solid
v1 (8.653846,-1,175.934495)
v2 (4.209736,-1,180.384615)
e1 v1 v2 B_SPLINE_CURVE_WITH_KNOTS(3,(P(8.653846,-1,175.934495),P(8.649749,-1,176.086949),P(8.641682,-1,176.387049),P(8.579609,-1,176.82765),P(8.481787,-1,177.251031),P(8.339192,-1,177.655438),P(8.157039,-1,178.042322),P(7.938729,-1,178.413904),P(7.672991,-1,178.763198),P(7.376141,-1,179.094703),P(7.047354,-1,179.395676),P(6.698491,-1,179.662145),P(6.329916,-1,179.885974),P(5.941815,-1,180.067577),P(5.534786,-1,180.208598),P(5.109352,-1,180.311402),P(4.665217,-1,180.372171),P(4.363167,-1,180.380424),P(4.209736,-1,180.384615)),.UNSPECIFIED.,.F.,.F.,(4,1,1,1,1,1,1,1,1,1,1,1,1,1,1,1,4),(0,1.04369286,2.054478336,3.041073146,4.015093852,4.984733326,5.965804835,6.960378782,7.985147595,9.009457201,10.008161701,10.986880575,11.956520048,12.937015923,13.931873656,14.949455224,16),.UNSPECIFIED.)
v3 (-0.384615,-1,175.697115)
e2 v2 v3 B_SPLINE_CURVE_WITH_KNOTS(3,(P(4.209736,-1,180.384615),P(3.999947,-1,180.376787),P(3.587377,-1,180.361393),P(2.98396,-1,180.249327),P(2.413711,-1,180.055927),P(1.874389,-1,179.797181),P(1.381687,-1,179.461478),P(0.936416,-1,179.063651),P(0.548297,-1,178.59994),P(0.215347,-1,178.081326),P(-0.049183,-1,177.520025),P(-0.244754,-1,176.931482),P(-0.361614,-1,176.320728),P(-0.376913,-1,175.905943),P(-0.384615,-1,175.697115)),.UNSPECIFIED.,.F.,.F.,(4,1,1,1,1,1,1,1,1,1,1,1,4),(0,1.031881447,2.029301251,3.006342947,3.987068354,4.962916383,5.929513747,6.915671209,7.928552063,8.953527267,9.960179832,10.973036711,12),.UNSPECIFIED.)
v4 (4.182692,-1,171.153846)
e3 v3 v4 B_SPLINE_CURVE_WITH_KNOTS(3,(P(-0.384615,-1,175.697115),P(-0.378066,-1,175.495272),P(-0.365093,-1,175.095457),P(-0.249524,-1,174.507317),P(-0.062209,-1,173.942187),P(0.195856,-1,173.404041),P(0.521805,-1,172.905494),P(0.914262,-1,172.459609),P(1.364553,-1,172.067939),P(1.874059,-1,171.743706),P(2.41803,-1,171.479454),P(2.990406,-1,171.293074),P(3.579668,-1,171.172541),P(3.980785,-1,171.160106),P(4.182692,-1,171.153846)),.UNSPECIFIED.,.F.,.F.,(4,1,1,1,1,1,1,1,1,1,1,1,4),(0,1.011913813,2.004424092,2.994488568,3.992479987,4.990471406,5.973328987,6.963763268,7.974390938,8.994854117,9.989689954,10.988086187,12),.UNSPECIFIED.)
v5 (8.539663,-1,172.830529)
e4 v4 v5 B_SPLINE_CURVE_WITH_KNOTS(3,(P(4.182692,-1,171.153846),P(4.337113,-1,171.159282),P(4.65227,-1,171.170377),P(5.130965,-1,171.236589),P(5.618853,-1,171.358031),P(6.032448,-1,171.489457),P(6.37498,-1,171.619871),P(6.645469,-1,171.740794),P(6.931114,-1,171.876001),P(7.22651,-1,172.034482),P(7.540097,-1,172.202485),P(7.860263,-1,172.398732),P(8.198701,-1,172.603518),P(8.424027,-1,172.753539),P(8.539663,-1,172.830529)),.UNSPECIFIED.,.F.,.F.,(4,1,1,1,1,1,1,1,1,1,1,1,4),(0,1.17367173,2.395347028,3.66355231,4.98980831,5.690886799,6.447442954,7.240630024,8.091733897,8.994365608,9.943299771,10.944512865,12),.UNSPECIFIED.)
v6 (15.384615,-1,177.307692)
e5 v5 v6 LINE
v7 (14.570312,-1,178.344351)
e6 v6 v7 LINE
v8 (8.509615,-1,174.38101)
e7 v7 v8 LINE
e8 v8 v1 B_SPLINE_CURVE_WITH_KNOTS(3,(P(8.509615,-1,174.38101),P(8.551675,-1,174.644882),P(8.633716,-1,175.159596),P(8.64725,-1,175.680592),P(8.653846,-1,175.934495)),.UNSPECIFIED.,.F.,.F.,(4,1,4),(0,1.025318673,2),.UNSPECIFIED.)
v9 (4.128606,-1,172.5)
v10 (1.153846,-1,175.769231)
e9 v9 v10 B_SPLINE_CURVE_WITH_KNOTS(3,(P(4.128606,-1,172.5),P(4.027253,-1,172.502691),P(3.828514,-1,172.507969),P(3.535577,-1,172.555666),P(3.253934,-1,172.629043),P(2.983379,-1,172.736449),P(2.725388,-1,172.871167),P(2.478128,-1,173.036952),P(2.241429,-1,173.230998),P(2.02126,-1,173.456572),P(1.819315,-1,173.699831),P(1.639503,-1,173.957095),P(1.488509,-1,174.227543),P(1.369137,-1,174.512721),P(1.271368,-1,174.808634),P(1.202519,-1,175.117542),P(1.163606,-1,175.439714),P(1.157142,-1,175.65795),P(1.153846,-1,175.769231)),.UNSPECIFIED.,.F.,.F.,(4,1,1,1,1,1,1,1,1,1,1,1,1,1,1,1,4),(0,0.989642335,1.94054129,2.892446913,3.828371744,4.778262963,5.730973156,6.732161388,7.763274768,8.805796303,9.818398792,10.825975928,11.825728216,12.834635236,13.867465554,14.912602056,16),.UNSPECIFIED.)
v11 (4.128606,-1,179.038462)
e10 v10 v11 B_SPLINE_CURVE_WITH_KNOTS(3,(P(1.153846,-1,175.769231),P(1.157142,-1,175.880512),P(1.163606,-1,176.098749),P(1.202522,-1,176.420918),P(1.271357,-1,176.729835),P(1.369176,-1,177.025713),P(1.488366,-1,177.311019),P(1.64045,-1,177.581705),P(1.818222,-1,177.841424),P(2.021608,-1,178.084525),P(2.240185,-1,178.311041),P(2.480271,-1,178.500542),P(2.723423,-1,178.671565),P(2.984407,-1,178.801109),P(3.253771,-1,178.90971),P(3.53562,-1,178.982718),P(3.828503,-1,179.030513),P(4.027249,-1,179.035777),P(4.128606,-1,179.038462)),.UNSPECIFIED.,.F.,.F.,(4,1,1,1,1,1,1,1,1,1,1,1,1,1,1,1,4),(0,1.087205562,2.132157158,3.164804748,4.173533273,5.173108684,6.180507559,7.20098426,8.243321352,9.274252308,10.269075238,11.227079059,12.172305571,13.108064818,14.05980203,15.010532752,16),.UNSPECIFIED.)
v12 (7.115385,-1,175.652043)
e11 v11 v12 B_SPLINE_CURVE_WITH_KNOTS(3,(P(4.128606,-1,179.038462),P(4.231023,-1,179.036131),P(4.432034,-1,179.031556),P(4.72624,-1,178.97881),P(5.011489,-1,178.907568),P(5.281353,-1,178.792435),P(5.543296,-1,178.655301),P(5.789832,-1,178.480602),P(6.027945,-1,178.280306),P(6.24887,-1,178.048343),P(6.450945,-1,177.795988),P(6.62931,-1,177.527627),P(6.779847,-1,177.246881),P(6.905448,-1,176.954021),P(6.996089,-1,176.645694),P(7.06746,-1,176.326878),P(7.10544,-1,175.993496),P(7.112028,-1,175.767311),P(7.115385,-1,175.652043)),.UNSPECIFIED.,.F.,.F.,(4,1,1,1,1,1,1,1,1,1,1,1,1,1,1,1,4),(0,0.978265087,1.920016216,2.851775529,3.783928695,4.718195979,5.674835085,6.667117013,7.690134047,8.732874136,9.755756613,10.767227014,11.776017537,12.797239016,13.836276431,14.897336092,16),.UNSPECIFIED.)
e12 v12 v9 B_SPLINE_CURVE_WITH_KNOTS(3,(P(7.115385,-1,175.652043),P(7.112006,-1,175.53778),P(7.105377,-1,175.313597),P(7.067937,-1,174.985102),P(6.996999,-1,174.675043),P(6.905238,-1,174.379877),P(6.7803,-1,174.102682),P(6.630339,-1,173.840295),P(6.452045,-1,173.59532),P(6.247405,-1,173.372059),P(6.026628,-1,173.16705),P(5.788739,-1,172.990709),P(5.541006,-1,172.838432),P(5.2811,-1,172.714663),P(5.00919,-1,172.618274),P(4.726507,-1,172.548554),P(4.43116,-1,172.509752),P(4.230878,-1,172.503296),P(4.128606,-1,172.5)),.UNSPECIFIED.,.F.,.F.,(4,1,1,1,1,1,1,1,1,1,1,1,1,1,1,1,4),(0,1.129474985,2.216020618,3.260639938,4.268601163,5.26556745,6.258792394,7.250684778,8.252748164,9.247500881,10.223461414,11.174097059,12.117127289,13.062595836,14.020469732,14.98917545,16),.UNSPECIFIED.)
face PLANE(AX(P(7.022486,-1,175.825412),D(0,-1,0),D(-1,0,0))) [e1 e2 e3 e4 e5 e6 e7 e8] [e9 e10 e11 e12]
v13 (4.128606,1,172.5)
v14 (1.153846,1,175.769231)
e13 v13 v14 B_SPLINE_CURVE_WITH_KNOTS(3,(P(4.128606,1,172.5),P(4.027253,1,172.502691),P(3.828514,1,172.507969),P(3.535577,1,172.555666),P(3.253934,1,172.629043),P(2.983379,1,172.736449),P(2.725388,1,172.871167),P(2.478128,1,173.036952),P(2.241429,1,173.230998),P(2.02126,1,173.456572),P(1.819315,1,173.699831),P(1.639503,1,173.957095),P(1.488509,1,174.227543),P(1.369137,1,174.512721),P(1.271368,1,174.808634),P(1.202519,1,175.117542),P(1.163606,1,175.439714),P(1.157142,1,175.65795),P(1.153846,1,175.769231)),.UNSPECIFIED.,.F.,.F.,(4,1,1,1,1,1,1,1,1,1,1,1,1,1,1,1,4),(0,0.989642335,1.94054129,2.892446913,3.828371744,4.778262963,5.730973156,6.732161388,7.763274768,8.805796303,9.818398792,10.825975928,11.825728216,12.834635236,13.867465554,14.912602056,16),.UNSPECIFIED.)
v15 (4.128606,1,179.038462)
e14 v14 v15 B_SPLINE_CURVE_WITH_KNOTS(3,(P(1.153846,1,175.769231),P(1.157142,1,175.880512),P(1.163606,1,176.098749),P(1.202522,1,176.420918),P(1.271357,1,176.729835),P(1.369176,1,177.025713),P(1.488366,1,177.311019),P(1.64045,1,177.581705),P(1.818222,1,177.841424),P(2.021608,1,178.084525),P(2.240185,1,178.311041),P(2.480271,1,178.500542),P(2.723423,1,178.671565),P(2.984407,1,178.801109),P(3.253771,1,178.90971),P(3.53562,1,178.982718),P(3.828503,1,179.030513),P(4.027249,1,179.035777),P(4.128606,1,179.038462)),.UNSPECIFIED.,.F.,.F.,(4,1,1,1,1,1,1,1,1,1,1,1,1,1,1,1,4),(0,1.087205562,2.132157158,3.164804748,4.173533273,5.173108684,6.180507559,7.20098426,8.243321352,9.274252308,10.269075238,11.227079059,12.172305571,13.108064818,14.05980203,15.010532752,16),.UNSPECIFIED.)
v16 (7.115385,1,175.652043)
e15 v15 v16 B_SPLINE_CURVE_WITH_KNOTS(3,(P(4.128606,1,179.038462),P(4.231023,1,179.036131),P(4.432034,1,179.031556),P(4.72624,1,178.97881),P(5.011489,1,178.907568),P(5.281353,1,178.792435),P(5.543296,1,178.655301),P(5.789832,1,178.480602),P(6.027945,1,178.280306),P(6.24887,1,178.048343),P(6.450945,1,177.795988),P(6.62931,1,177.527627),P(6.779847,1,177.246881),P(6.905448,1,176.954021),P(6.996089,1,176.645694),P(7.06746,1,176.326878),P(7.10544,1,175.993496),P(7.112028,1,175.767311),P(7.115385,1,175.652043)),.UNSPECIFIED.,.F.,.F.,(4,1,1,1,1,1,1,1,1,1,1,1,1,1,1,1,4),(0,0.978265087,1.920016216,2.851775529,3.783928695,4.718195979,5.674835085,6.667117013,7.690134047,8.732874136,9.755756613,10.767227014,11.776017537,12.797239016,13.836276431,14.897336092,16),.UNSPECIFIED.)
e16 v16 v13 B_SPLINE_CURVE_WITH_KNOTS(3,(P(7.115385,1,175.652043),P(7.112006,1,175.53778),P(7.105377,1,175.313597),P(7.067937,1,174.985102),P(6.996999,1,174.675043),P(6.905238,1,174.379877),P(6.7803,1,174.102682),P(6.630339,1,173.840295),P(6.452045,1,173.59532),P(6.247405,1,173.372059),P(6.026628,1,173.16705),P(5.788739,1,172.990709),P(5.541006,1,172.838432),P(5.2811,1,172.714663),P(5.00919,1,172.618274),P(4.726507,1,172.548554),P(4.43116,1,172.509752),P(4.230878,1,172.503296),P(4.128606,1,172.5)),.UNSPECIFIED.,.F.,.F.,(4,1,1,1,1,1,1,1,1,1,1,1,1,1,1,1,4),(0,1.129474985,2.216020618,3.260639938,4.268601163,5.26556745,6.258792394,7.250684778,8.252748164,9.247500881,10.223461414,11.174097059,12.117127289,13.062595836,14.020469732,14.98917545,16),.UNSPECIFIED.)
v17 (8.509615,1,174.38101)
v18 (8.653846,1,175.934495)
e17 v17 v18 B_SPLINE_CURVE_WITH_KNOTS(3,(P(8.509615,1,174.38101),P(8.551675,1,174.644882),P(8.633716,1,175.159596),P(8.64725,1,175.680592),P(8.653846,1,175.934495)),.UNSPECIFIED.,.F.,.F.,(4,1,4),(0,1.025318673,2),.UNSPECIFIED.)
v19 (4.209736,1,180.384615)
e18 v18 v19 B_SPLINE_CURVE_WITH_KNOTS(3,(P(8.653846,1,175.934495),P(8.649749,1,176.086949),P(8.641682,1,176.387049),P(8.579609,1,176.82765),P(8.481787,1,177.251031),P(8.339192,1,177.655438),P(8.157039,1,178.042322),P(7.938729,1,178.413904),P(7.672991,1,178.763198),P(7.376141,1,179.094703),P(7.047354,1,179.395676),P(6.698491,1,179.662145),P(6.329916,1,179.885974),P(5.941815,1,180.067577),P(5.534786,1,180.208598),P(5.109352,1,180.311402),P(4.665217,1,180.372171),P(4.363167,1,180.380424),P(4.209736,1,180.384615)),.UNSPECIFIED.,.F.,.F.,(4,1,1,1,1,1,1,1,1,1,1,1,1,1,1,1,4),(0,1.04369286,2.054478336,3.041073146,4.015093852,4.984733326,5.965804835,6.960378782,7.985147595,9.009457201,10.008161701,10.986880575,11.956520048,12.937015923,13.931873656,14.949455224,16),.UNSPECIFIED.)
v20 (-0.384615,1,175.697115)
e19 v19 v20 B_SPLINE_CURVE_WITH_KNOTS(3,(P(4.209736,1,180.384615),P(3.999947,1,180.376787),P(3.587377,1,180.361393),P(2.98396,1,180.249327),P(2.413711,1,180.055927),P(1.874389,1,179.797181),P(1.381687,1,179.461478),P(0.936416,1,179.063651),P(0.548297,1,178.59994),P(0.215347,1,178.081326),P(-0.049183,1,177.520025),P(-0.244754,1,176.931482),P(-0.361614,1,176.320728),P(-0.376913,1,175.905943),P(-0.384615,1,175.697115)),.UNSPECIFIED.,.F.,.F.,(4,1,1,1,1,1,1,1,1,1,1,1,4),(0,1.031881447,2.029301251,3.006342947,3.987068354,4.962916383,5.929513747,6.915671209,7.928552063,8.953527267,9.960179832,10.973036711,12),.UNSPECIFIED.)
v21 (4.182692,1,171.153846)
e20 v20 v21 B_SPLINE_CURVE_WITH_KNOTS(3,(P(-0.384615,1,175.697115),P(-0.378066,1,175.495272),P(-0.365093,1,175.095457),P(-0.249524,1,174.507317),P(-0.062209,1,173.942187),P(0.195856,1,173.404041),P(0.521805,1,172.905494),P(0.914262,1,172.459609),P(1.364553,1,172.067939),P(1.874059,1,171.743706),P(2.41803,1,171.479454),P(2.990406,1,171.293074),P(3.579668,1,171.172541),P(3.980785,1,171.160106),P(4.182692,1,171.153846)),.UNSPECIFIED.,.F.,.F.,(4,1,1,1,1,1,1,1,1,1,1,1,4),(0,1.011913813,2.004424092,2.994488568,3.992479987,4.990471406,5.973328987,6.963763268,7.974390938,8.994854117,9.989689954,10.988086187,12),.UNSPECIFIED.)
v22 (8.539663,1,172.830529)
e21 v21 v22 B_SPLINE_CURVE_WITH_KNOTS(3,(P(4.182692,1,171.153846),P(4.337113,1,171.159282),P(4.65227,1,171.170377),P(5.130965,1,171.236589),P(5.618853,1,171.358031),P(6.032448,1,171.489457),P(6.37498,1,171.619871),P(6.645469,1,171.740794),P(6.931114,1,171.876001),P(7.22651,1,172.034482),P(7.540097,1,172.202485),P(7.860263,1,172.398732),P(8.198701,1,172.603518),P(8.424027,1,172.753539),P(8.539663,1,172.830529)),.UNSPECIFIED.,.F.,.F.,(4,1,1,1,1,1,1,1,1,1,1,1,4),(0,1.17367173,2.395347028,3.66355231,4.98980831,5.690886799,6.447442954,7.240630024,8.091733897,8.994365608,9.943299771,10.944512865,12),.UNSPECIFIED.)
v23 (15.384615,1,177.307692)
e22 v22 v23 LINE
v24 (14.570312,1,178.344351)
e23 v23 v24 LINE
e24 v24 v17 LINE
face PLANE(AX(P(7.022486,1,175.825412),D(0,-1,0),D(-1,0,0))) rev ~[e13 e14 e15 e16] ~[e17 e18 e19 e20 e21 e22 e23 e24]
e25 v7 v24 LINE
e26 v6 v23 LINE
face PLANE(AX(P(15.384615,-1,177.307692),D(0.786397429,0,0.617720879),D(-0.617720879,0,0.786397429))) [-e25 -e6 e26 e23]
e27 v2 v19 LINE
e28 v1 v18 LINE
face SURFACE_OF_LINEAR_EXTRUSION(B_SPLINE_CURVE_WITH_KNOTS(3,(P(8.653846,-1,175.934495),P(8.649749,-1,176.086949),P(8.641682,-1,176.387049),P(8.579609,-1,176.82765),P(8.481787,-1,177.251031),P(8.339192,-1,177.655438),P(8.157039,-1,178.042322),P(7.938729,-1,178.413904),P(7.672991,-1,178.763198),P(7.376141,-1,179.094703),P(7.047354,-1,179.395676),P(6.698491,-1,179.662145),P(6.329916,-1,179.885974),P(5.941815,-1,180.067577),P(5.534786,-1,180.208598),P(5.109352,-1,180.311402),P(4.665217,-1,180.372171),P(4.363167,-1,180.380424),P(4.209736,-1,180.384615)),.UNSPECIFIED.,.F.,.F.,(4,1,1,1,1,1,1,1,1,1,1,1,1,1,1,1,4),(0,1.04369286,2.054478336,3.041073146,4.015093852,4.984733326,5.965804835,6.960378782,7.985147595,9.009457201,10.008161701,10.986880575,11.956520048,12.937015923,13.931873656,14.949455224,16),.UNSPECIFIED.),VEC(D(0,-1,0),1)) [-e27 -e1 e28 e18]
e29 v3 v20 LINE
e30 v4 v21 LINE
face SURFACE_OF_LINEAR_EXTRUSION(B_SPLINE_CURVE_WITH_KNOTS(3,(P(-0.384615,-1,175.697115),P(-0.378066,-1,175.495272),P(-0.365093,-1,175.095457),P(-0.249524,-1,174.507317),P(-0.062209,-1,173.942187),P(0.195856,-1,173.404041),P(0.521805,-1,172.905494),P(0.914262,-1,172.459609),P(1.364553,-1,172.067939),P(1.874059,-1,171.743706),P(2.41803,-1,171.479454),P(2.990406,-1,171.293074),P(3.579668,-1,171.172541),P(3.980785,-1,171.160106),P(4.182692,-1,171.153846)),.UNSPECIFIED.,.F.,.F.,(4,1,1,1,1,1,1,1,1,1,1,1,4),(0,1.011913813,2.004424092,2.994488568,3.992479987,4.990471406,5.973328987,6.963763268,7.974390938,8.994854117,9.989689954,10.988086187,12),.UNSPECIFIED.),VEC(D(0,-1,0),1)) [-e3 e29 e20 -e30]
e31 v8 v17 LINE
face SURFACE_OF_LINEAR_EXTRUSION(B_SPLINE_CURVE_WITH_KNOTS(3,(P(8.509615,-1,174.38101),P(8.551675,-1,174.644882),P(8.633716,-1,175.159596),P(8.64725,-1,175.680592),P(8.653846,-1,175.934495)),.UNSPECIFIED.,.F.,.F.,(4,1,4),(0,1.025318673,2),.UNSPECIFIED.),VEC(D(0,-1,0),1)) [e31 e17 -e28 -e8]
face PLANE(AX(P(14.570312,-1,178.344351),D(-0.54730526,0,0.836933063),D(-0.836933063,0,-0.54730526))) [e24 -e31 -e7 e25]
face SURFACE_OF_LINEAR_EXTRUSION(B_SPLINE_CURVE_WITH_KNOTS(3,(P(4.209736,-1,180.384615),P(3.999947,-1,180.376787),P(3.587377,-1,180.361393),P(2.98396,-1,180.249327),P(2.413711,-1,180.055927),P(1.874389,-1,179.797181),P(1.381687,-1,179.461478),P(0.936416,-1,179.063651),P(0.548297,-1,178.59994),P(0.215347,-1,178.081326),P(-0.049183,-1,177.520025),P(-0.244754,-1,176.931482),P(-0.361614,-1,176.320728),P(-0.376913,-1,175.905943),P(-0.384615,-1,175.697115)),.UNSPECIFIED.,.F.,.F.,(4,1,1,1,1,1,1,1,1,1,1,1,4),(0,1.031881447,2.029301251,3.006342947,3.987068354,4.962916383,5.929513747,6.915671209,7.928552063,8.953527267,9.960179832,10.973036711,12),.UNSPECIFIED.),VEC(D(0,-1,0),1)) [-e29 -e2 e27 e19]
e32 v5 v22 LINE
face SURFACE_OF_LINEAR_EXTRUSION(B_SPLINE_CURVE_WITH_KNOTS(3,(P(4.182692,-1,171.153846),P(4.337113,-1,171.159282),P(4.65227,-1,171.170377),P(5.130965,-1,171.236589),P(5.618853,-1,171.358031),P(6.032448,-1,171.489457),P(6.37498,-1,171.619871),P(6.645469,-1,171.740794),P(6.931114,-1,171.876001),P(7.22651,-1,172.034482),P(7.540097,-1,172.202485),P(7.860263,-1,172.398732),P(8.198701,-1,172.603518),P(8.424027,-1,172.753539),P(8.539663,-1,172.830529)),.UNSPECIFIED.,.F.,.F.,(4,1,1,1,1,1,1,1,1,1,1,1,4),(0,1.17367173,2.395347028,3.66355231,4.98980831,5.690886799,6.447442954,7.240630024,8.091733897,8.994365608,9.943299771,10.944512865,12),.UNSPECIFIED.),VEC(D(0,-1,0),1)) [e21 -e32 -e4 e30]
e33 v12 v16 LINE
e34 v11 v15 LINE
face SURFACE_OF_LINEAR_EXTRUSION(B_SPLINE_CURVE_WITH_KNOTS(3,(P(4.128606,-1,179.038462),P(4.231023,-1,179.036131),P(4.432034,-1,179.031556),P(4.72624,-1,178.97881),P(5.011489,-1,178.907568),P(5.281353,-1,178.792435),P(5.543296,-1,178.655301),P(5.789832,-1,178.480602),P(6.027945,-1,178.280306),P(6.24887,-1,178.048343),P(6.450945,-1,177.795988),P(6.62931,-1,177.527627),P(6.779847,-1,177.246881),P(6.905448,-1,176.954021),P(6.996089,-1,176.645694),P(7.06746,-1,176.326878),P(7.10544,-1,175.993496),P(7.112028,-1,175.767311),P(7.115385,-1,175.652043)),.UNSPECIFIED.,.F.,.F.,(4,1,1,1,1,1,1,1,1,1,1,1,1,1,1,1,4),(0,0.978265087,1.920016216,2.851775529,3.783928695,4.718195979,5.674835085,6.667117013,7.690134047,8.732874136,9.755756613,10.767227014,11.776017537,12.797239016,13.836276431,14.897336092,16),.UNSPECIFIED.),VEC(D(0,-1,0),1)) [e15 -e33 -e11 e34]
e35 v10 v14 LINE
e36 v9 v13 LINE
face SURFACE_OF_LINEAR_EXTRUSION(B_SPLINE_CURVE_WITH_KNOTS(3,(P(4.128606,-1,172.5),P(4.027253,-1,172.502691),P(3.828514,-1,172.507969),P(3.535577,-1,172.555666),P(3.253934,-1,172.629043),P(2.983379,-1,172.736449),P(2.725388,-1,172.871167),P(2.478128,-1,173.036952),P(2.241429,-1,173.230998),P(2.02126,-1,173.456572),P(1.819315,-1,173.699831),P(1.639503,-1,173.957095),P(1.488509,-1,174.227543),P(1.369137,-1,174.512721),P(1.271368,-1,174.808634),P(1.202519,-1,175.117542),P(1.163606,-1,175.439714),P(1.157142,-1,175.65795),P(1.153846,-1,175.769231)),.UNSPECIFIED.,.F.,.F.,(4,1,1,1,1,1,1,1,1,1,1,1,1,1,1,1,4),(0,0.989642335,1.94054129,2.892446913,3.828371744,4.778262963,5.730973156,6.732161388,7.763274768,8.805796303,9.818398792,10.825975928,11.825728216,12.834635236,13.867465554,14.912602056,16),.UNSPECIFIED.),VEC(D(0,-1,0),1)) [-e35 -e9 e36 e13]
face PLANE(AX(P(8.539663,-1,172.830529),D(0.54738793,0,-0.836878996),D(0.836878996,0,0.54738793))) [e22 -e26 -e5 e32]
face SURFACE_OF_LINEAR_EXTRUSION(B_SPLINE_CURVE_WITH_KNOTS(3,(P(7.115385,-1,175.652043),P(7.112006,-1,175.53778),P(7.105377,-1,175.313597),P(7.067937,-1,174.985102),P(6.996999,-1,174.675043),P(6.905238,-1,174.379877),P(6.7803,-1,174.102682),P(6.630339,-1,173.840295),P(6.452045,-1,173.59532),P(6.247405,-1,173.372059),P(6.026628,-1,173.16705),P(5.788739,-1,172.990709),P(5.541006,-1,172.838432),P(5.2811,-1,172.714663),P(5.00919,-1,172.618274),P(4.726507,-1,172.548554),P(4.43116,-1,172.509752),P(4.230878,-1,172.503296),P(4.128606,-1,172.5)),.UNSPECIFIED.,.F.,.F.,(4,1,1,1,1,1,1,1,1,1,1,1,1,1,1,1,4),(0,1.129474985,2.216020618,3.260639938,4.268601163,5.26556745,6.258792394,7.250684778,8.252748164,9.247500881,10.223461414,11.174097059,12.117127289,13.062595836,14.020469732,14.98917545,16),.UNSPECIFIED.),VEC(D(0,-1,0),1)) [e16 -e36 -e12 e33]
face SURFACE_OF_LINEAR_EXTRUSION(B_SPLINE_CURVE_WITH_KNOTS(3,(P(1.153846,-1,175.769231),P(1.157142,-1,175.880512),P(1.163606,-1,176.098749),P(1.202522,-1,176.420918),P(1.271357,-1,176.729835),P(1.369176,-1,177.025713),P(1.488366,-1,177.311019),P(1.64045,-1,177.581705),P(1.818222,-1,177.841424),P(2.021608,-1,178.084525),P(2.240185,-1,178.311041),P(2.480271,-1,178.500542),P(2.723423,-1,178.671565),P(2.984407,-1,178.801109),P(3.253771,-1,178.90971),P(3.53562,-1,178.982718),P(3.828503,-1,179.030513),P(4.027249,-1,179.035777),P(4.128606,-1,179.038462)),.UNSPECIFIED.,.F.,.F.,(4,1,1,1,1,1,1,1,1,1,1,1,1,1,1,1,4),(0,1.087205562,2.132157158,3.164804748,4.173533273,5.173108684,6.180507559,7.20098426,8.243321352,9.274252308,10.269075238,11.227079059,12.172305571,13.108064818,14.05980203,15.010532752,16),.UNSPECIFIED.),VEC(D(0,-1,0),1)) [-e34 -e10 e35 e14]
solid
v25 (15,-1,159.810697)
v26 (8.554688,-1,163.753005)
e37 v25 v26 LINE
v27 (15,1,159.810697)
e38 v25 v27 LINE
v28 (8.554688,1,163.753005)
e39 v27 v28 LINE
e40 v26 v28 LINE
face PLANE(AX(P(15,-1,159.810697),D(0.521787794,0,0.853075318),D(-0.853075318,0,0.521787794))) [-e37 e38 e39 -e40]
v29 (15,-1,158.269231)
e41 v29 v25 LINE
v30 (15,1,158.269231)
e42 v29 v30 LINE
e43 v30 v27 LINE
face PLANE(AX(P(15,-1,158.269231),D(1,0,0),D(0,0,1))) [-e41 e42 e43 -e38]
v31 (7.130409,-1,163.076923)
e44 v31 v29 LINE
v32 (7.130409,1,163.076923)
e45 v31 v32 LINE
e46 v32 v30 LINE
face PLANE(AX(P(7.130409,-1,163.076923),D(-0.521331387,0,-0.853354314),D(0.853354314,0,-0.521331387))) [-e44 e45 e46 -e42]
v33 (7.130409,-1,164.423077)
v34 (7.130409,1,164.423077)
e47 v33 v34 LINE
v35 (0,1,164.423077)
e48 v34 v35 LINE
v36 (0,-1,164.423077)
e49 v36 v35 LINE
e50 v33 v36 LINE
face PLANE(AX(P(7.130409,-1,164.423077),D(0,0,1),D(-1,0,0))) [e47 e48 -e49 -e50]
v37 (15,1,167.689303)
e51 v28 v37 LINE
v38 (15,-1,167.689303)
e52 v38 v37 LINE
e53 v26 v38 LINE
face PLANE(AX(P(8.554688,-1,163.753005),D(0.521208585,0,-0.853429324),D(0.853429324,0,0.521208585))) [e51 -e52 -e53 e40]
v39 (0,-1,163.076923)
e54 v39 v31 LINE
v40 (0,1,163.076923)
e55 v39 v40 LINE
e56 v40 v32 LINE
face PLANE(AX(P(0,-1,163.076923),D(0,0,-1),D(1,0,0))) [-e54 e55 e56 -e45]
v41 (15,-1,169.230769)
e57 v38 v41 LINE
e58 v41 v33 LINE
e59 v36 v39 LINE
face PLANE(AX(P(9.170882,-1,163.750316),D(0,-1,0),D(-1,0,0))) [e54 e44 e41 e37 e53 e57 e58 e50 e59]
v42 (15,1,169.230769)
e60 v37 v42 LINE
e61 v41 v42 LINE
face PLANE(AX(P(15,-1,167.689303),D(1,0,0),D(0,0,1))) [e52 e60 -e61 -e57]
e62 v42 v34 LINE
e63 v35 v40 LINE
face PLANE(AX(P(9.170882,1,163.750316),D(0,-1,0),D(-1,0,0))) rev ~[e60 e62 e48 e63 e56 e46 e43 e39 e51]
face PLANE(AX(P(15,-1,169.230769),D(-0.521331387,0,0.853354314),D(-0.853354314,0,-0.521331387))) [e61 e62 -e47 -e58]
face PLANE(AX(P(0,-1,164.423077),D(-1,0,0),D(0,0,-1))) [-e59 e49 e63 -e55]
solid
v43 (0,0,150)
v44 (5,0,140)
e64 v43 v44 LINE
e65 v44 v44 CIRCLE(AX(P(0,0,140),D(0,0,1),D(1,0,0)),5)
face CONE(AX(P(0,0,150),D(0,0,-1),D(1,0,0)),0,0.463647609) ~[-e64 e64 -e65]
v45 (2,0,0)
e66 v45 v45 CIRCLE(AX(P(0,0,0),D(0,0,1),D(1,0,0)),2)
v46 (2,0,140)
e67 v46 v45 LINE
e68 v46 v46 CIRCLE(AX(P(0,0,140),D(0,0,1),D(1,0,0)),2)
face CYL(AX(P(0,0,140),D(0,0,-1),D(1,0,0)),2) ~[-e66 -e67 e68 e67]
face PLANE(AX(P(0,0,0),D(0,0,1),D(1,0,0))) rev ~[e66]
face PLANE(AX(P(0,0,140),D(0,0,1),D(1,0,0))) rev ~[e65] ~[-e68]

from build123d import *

# Parameters (mm, degrees)
BOSS_EXTRUDE1_DEPTH        = 1
BOSS_EXTRUDE1_DEPTH_BACK   = 1
BOSS_EXTRUDE1_2_DEPTH      = 1
BOSS_EXTRUDE1_2_DEPTH_BACK = 1


with BuildPart() as part:
    # Sketch2 → Revolve1 (revolve)
    with BuildSketch(Plane(origin=(0, 0, 0), x_dir=(1, 0, 0), z_dir=(0, 1, 0))):
        Polygon((0, -150), (5, -140), (2, -140), (2, 0), (0, 0), align=None)
    revolve(axis=Axis((0, 0, -41.949952025), (0, 0, 1)))


with BuildPart() as body_2:
    # Sketch3 → Boss-Extrude1 (new, two sides: drawn at the far end of the back side and taken through both)
    with BuildSketch(Plane(origin=(0, 0, 0), x_dir=(1, 0, 0), z_dir=(0, 1, 0)).offset(-BOSS_EXTRUDE1_DEPTH_BACK)):
        Polygon((15, -158.269230769), (15, -159.810697115), (8.5546875, -163.753004808), (15, -167.689302885), (15, -169.230769231), (7.130408654, -164.423076923), (0, -164.423076923), (0, -163.076923077), (7.130408654, -163.076923077), align=None)
    extrude(amount=BOSS_EXTRUDE1_DEPTH + BOSS_EXTRUDE1_DEPTH_BACK)


with BuildPart() as body_3:
    # Sketch3 → Boss-Extrude1 2 (new, two sides: drawn at the far end of the back side and taken through both)
    with BuildSketch(Plane(origin=(0, 0, 0), x_dir=(1, 0, 0), z_dir=(0, 1, 0)).offset(-BOSS_EXTRUDE1_2_DEPTH_BACK)):
        with BuildLine():
            Line((15.384615385, -177.307692308), (14.5703125, -178.344350962))
            Line((14.5703125, -178.344350962), (8.509615385, -174.381009615))
            add(Edge.make_bspline(
                [(8.509615385, -174.381009615), (8.551674787, -174.644882231), (8.633716408, -175.159595603), (8.64725046, -175.680592311), (8.653846154, -175.934495192)],
                knots=[0, 0, 0, 0, 1.025318673, 2, 2, 2, 2], degree=3))
            add(Edge.make_bspline(
                [(8.653846154, -175.934495192), (8.649748532, -176.086948748), (8.641682486, -176.387049036), (8.57960884, -176.827649616), (8.481786932, -177.251030771), (8.33919155, -177.65543768), (8.157038602, -178.042321888), (7.938729158, -178.413903586), (7.672990528, -178.763197915), (7.376140718, -179.094702969), (7.047353641, -179.395676243), (6.69849077, -179.662145053), (6.329915565, -179.88597416), (5.941814711, -180.067576681), (5.534786456, -180.20859759), (5.109351573, -180.311401783), (4.665216695, -180.372171466), (4.363167372, -180.380423569), (4.209735577, -180.384615385)],
                knots=[0, 0, 0, 0, 1.04369286, 2.054478336, 3.041073146, 4.015093852, 4.984733326, 5.965804835, 6.960378782, 7.985147595, 9.009457201, 10.008161701, 10.986880575, 11.956520048, 12.937015923, 13.931873656, 14.949455224, 16, 16, 16, 16], degree=3))
            add(Edge.make_bspline(
                [(4.209735577, -180.384615385), (3.999947344, -180.376787405), (3.587377155, -180.361392875), (2.983959664, -180.249327236), (2.413710712, -180.055926984), (1.874389314, -179.797180637), (1.38168706, -179.461477597), (0.936416339, -179.063651039), (0.548297495, -178.599940388), (0.215346507, -178.081326416), (-0.049182634, -177.520025038), (-0.244754428, -176.931482182), (-0.361613545, -176.320728396), (-0.376912837, -175.905942541), (-0.384615385, -175.697115385)],
                knots=[0, 0, 0, 0, 1.031881447, 2.029301251, 3.006342947, 3.987068354, 4.962916383, 5.929513747, 6.915671209, 7.928552063, 8.953527267, 9.960179832, 10.973036711, 12, 12, 12, 12], degree=3))
            add(Edge.make_bspline(
                [(-0.384615385, -175.697115385), (-0.378065948, -175.495272343), (-0.365092661, -175.095456617), (-0.249524114, -174.50731664), (-0.062208875, -173.942187268), (0.195855766, -173.40404089), (0.5218053, -172.905493801), (0.914262334, -172.459609466), (1.364553117, -172.067939213), (1.874058975, -171.74370554), (2.418030387, -171.479454216), (2.990406475, -171.293073936), (3.579667942, -171.172541322), (3.980785131, -171.160105749), (4.182692308, -171.153846154)],
                knots=[0, 0, 0, 0, 1.011913813, 2.004424092, 2.994488568, 3.992479987, 4.990471406, 5.973328987, 6.963763268, 7.974390938, 8.994854117, 9.989689954, 10.988086187, 12, 12, 12, 12], degree=3))
            add(Edge.make_bspline(
                [(4.182692308, -171.153846154), (4.337112847, -171.159282361), (4.652269778, -171.170377118), (5.130964519, -171.236589347), (5.618852651, -171.358030666), (6.032448307, -171.489456716), (6.374980445, -171.61987103), (6.645469026, -171.740794184), (6.931113653, -171.876001003), (7.226509648, -172.034482224), (7.540097115, -172.202485108), (7.860262952, -172.398731542), (8.198700605, -172.60351771), (8.424027137, -172.753538837), (8.539663462, -172.830528846)],
                knots=[0, 0, 0, 0, 1.17367173, 2.395347028, 3.66355231, 4.98980831, 5.690886799, 6.447442954, 7.240630024, 8.091733897, 8.994365608, 9.943299771, 10.944512865, 12, 12, 12, 12], degree=3))
            Line((8.539663462, -172.830528846), (15.384615385, -177.307692308))
        make_face()
        with BuildLine():
            add(Edge.make_bspline(
                [(7.115384615, -175.652043269), (7.112005971, -175.537780091), (7.105377098, -175.313596676), (7.067937177, -174.985102114), (6.996998791, -174.675042777), (6.905238355, -174.379877282), (6.780300101, -174.102682029), (6.630338776, -173.840295042), (6.452044563, -173.595319963), (6.2474054, -173.372058978), (6.026627857, -173.167050253), (5.788738619, -172.990709272), (5.54100562, -172.838431661), (5.281100468, -172.714662654), (5.009189883, -172.618273871), (4.726506574, -172.548553542), (4.431159767, -172.50975155), (4.230877582, -172.5032963), (4.128605769, -172.5)],
                knots=[0, 0, 0, 0, 1.129474985, 2.216020618, 3.260639938, 4.268601163, 5.26556745, 6.258792394, 7.250684778, 8.252748164, 9.247500881, 10.223461414, 11.174097059, 12.117127289, 13.062595836, 14.020469732, 14.98917545, 16, 16, 16, 16], degree=3))
            add(Edge.make_bspline(
                [(4.128605769, -172.5), (4.027252571, -172.502691323), (3.828514037, -172.507968607), (3.535576783, -172.555665559), (3.25393368, -172.629043276), (2.983378733, -172.73644881), (2.725387777, -172.871166755), (2.478128225, -173.03695204), (2.241429415, -173.230997521), (2.021260049, -173.456571542), (1.819315357, -173.699831255), (1.639503424, -173.957094513), (1.488509482, -174.227543319), (1.369136869, -174.512720881), (1.271367854, -174.808634489), (1.202519363, -175.117541569), (1.163606496, -175.439713542), (1.157142303, -175.657950061), (1.153846154, -175.769230769)],
                knots=[0, 0, 0, 0, 0.989642335, 1.94054129, 2.892446913, 3.828371744, 4.778262963, 5.730973156, 6.732161388, 7.763274768, 8.805796303, 9.818398792, 10.825975928, 11.825728216, 12.834635236, 13.867465554, 14.912602056, 16, 16, 16, 16], degree=3))
            add(Edge.make_bspline(
                [(1.153846154, -175.769230769), (1.157142044, -175.880511659), (1.163605731, -176.098748537), (1.202522271, -176.420917918), (1.271357182, -176.729834578), (1.369175554, -177.025713366), (1.488365973, -177.311019461), (1.640449573, -177.581705003), (1.818222088, -177.841424442), (2.02160762, -178.084524569), (2.240185355, -178.311041427), (2.48027137, -178.500541938), (2.723422593, -178.671564756), (2.984406813, -178.801108562), (3.253770808, -178.909710259), (3.535620416, -178.982717754), (3.828502614, -179.030513411), (4.027248713, -179.035777132), (4.128605769, -179.038461538)],
                knots=[0, 0, 0, 0, 1.087205562, 2.132157158, 3.164804748, 4.173533273, 5.173108684, 6.180507559, 7.20098426, 8.243321352, 9.274252308, 10.269075238, 11.227079059, 12.172305571, 13.108064818, 14.05980203, 15.010532752, 16, 16, 16, 16], degree=3))
            add(Edge.make_bspline(
                [(4.128605769, -179.038461538), (4.231022874, -179.036130628), (4.432034342, -179.031555809), (4.726240478, -178.978810058), (5.011488565, -178.907568144), (5.281352931, -178.792434681), (5.543296409, -178.655301328), (5.78983246, -178.480602445), (6.027945494, -178.2803059), (6.248869632, -178.048343065), (6.450944828, -177.795988266), (6.629310054, -177.527627329), (6.7798468, -177.246881088), (6.905448365, -176.954020743), (6.99608905, -176.645694264), (7.06746007, -176.32687848), (7.105440152, -175.993496024), (7.112027573, -175.767310558), (7.115384615, -175.652043269)],
                knots=[0, 0, 0, 0, 0.978265087, 1.920016216, 2.851775529, 3.783928695, 4.718195979, 5.674835085, 6.667117013, 7.690134047, 8.732874136, 9.755756613, 10.767227014, 11.776017537, 12.797239016, 13.836276431, 14.897336092, 16, 16, 16, 16], degree=3))
        make_face(mode=Mode.SUBTRACT)
    extrude(amount=BOSS_EXTRUDE1_2_DEPTH + BOSS_EXTRUDE1_2_DEPTH_BACK)


solid = Compound([part.part, body_2.part, body_3.part])
